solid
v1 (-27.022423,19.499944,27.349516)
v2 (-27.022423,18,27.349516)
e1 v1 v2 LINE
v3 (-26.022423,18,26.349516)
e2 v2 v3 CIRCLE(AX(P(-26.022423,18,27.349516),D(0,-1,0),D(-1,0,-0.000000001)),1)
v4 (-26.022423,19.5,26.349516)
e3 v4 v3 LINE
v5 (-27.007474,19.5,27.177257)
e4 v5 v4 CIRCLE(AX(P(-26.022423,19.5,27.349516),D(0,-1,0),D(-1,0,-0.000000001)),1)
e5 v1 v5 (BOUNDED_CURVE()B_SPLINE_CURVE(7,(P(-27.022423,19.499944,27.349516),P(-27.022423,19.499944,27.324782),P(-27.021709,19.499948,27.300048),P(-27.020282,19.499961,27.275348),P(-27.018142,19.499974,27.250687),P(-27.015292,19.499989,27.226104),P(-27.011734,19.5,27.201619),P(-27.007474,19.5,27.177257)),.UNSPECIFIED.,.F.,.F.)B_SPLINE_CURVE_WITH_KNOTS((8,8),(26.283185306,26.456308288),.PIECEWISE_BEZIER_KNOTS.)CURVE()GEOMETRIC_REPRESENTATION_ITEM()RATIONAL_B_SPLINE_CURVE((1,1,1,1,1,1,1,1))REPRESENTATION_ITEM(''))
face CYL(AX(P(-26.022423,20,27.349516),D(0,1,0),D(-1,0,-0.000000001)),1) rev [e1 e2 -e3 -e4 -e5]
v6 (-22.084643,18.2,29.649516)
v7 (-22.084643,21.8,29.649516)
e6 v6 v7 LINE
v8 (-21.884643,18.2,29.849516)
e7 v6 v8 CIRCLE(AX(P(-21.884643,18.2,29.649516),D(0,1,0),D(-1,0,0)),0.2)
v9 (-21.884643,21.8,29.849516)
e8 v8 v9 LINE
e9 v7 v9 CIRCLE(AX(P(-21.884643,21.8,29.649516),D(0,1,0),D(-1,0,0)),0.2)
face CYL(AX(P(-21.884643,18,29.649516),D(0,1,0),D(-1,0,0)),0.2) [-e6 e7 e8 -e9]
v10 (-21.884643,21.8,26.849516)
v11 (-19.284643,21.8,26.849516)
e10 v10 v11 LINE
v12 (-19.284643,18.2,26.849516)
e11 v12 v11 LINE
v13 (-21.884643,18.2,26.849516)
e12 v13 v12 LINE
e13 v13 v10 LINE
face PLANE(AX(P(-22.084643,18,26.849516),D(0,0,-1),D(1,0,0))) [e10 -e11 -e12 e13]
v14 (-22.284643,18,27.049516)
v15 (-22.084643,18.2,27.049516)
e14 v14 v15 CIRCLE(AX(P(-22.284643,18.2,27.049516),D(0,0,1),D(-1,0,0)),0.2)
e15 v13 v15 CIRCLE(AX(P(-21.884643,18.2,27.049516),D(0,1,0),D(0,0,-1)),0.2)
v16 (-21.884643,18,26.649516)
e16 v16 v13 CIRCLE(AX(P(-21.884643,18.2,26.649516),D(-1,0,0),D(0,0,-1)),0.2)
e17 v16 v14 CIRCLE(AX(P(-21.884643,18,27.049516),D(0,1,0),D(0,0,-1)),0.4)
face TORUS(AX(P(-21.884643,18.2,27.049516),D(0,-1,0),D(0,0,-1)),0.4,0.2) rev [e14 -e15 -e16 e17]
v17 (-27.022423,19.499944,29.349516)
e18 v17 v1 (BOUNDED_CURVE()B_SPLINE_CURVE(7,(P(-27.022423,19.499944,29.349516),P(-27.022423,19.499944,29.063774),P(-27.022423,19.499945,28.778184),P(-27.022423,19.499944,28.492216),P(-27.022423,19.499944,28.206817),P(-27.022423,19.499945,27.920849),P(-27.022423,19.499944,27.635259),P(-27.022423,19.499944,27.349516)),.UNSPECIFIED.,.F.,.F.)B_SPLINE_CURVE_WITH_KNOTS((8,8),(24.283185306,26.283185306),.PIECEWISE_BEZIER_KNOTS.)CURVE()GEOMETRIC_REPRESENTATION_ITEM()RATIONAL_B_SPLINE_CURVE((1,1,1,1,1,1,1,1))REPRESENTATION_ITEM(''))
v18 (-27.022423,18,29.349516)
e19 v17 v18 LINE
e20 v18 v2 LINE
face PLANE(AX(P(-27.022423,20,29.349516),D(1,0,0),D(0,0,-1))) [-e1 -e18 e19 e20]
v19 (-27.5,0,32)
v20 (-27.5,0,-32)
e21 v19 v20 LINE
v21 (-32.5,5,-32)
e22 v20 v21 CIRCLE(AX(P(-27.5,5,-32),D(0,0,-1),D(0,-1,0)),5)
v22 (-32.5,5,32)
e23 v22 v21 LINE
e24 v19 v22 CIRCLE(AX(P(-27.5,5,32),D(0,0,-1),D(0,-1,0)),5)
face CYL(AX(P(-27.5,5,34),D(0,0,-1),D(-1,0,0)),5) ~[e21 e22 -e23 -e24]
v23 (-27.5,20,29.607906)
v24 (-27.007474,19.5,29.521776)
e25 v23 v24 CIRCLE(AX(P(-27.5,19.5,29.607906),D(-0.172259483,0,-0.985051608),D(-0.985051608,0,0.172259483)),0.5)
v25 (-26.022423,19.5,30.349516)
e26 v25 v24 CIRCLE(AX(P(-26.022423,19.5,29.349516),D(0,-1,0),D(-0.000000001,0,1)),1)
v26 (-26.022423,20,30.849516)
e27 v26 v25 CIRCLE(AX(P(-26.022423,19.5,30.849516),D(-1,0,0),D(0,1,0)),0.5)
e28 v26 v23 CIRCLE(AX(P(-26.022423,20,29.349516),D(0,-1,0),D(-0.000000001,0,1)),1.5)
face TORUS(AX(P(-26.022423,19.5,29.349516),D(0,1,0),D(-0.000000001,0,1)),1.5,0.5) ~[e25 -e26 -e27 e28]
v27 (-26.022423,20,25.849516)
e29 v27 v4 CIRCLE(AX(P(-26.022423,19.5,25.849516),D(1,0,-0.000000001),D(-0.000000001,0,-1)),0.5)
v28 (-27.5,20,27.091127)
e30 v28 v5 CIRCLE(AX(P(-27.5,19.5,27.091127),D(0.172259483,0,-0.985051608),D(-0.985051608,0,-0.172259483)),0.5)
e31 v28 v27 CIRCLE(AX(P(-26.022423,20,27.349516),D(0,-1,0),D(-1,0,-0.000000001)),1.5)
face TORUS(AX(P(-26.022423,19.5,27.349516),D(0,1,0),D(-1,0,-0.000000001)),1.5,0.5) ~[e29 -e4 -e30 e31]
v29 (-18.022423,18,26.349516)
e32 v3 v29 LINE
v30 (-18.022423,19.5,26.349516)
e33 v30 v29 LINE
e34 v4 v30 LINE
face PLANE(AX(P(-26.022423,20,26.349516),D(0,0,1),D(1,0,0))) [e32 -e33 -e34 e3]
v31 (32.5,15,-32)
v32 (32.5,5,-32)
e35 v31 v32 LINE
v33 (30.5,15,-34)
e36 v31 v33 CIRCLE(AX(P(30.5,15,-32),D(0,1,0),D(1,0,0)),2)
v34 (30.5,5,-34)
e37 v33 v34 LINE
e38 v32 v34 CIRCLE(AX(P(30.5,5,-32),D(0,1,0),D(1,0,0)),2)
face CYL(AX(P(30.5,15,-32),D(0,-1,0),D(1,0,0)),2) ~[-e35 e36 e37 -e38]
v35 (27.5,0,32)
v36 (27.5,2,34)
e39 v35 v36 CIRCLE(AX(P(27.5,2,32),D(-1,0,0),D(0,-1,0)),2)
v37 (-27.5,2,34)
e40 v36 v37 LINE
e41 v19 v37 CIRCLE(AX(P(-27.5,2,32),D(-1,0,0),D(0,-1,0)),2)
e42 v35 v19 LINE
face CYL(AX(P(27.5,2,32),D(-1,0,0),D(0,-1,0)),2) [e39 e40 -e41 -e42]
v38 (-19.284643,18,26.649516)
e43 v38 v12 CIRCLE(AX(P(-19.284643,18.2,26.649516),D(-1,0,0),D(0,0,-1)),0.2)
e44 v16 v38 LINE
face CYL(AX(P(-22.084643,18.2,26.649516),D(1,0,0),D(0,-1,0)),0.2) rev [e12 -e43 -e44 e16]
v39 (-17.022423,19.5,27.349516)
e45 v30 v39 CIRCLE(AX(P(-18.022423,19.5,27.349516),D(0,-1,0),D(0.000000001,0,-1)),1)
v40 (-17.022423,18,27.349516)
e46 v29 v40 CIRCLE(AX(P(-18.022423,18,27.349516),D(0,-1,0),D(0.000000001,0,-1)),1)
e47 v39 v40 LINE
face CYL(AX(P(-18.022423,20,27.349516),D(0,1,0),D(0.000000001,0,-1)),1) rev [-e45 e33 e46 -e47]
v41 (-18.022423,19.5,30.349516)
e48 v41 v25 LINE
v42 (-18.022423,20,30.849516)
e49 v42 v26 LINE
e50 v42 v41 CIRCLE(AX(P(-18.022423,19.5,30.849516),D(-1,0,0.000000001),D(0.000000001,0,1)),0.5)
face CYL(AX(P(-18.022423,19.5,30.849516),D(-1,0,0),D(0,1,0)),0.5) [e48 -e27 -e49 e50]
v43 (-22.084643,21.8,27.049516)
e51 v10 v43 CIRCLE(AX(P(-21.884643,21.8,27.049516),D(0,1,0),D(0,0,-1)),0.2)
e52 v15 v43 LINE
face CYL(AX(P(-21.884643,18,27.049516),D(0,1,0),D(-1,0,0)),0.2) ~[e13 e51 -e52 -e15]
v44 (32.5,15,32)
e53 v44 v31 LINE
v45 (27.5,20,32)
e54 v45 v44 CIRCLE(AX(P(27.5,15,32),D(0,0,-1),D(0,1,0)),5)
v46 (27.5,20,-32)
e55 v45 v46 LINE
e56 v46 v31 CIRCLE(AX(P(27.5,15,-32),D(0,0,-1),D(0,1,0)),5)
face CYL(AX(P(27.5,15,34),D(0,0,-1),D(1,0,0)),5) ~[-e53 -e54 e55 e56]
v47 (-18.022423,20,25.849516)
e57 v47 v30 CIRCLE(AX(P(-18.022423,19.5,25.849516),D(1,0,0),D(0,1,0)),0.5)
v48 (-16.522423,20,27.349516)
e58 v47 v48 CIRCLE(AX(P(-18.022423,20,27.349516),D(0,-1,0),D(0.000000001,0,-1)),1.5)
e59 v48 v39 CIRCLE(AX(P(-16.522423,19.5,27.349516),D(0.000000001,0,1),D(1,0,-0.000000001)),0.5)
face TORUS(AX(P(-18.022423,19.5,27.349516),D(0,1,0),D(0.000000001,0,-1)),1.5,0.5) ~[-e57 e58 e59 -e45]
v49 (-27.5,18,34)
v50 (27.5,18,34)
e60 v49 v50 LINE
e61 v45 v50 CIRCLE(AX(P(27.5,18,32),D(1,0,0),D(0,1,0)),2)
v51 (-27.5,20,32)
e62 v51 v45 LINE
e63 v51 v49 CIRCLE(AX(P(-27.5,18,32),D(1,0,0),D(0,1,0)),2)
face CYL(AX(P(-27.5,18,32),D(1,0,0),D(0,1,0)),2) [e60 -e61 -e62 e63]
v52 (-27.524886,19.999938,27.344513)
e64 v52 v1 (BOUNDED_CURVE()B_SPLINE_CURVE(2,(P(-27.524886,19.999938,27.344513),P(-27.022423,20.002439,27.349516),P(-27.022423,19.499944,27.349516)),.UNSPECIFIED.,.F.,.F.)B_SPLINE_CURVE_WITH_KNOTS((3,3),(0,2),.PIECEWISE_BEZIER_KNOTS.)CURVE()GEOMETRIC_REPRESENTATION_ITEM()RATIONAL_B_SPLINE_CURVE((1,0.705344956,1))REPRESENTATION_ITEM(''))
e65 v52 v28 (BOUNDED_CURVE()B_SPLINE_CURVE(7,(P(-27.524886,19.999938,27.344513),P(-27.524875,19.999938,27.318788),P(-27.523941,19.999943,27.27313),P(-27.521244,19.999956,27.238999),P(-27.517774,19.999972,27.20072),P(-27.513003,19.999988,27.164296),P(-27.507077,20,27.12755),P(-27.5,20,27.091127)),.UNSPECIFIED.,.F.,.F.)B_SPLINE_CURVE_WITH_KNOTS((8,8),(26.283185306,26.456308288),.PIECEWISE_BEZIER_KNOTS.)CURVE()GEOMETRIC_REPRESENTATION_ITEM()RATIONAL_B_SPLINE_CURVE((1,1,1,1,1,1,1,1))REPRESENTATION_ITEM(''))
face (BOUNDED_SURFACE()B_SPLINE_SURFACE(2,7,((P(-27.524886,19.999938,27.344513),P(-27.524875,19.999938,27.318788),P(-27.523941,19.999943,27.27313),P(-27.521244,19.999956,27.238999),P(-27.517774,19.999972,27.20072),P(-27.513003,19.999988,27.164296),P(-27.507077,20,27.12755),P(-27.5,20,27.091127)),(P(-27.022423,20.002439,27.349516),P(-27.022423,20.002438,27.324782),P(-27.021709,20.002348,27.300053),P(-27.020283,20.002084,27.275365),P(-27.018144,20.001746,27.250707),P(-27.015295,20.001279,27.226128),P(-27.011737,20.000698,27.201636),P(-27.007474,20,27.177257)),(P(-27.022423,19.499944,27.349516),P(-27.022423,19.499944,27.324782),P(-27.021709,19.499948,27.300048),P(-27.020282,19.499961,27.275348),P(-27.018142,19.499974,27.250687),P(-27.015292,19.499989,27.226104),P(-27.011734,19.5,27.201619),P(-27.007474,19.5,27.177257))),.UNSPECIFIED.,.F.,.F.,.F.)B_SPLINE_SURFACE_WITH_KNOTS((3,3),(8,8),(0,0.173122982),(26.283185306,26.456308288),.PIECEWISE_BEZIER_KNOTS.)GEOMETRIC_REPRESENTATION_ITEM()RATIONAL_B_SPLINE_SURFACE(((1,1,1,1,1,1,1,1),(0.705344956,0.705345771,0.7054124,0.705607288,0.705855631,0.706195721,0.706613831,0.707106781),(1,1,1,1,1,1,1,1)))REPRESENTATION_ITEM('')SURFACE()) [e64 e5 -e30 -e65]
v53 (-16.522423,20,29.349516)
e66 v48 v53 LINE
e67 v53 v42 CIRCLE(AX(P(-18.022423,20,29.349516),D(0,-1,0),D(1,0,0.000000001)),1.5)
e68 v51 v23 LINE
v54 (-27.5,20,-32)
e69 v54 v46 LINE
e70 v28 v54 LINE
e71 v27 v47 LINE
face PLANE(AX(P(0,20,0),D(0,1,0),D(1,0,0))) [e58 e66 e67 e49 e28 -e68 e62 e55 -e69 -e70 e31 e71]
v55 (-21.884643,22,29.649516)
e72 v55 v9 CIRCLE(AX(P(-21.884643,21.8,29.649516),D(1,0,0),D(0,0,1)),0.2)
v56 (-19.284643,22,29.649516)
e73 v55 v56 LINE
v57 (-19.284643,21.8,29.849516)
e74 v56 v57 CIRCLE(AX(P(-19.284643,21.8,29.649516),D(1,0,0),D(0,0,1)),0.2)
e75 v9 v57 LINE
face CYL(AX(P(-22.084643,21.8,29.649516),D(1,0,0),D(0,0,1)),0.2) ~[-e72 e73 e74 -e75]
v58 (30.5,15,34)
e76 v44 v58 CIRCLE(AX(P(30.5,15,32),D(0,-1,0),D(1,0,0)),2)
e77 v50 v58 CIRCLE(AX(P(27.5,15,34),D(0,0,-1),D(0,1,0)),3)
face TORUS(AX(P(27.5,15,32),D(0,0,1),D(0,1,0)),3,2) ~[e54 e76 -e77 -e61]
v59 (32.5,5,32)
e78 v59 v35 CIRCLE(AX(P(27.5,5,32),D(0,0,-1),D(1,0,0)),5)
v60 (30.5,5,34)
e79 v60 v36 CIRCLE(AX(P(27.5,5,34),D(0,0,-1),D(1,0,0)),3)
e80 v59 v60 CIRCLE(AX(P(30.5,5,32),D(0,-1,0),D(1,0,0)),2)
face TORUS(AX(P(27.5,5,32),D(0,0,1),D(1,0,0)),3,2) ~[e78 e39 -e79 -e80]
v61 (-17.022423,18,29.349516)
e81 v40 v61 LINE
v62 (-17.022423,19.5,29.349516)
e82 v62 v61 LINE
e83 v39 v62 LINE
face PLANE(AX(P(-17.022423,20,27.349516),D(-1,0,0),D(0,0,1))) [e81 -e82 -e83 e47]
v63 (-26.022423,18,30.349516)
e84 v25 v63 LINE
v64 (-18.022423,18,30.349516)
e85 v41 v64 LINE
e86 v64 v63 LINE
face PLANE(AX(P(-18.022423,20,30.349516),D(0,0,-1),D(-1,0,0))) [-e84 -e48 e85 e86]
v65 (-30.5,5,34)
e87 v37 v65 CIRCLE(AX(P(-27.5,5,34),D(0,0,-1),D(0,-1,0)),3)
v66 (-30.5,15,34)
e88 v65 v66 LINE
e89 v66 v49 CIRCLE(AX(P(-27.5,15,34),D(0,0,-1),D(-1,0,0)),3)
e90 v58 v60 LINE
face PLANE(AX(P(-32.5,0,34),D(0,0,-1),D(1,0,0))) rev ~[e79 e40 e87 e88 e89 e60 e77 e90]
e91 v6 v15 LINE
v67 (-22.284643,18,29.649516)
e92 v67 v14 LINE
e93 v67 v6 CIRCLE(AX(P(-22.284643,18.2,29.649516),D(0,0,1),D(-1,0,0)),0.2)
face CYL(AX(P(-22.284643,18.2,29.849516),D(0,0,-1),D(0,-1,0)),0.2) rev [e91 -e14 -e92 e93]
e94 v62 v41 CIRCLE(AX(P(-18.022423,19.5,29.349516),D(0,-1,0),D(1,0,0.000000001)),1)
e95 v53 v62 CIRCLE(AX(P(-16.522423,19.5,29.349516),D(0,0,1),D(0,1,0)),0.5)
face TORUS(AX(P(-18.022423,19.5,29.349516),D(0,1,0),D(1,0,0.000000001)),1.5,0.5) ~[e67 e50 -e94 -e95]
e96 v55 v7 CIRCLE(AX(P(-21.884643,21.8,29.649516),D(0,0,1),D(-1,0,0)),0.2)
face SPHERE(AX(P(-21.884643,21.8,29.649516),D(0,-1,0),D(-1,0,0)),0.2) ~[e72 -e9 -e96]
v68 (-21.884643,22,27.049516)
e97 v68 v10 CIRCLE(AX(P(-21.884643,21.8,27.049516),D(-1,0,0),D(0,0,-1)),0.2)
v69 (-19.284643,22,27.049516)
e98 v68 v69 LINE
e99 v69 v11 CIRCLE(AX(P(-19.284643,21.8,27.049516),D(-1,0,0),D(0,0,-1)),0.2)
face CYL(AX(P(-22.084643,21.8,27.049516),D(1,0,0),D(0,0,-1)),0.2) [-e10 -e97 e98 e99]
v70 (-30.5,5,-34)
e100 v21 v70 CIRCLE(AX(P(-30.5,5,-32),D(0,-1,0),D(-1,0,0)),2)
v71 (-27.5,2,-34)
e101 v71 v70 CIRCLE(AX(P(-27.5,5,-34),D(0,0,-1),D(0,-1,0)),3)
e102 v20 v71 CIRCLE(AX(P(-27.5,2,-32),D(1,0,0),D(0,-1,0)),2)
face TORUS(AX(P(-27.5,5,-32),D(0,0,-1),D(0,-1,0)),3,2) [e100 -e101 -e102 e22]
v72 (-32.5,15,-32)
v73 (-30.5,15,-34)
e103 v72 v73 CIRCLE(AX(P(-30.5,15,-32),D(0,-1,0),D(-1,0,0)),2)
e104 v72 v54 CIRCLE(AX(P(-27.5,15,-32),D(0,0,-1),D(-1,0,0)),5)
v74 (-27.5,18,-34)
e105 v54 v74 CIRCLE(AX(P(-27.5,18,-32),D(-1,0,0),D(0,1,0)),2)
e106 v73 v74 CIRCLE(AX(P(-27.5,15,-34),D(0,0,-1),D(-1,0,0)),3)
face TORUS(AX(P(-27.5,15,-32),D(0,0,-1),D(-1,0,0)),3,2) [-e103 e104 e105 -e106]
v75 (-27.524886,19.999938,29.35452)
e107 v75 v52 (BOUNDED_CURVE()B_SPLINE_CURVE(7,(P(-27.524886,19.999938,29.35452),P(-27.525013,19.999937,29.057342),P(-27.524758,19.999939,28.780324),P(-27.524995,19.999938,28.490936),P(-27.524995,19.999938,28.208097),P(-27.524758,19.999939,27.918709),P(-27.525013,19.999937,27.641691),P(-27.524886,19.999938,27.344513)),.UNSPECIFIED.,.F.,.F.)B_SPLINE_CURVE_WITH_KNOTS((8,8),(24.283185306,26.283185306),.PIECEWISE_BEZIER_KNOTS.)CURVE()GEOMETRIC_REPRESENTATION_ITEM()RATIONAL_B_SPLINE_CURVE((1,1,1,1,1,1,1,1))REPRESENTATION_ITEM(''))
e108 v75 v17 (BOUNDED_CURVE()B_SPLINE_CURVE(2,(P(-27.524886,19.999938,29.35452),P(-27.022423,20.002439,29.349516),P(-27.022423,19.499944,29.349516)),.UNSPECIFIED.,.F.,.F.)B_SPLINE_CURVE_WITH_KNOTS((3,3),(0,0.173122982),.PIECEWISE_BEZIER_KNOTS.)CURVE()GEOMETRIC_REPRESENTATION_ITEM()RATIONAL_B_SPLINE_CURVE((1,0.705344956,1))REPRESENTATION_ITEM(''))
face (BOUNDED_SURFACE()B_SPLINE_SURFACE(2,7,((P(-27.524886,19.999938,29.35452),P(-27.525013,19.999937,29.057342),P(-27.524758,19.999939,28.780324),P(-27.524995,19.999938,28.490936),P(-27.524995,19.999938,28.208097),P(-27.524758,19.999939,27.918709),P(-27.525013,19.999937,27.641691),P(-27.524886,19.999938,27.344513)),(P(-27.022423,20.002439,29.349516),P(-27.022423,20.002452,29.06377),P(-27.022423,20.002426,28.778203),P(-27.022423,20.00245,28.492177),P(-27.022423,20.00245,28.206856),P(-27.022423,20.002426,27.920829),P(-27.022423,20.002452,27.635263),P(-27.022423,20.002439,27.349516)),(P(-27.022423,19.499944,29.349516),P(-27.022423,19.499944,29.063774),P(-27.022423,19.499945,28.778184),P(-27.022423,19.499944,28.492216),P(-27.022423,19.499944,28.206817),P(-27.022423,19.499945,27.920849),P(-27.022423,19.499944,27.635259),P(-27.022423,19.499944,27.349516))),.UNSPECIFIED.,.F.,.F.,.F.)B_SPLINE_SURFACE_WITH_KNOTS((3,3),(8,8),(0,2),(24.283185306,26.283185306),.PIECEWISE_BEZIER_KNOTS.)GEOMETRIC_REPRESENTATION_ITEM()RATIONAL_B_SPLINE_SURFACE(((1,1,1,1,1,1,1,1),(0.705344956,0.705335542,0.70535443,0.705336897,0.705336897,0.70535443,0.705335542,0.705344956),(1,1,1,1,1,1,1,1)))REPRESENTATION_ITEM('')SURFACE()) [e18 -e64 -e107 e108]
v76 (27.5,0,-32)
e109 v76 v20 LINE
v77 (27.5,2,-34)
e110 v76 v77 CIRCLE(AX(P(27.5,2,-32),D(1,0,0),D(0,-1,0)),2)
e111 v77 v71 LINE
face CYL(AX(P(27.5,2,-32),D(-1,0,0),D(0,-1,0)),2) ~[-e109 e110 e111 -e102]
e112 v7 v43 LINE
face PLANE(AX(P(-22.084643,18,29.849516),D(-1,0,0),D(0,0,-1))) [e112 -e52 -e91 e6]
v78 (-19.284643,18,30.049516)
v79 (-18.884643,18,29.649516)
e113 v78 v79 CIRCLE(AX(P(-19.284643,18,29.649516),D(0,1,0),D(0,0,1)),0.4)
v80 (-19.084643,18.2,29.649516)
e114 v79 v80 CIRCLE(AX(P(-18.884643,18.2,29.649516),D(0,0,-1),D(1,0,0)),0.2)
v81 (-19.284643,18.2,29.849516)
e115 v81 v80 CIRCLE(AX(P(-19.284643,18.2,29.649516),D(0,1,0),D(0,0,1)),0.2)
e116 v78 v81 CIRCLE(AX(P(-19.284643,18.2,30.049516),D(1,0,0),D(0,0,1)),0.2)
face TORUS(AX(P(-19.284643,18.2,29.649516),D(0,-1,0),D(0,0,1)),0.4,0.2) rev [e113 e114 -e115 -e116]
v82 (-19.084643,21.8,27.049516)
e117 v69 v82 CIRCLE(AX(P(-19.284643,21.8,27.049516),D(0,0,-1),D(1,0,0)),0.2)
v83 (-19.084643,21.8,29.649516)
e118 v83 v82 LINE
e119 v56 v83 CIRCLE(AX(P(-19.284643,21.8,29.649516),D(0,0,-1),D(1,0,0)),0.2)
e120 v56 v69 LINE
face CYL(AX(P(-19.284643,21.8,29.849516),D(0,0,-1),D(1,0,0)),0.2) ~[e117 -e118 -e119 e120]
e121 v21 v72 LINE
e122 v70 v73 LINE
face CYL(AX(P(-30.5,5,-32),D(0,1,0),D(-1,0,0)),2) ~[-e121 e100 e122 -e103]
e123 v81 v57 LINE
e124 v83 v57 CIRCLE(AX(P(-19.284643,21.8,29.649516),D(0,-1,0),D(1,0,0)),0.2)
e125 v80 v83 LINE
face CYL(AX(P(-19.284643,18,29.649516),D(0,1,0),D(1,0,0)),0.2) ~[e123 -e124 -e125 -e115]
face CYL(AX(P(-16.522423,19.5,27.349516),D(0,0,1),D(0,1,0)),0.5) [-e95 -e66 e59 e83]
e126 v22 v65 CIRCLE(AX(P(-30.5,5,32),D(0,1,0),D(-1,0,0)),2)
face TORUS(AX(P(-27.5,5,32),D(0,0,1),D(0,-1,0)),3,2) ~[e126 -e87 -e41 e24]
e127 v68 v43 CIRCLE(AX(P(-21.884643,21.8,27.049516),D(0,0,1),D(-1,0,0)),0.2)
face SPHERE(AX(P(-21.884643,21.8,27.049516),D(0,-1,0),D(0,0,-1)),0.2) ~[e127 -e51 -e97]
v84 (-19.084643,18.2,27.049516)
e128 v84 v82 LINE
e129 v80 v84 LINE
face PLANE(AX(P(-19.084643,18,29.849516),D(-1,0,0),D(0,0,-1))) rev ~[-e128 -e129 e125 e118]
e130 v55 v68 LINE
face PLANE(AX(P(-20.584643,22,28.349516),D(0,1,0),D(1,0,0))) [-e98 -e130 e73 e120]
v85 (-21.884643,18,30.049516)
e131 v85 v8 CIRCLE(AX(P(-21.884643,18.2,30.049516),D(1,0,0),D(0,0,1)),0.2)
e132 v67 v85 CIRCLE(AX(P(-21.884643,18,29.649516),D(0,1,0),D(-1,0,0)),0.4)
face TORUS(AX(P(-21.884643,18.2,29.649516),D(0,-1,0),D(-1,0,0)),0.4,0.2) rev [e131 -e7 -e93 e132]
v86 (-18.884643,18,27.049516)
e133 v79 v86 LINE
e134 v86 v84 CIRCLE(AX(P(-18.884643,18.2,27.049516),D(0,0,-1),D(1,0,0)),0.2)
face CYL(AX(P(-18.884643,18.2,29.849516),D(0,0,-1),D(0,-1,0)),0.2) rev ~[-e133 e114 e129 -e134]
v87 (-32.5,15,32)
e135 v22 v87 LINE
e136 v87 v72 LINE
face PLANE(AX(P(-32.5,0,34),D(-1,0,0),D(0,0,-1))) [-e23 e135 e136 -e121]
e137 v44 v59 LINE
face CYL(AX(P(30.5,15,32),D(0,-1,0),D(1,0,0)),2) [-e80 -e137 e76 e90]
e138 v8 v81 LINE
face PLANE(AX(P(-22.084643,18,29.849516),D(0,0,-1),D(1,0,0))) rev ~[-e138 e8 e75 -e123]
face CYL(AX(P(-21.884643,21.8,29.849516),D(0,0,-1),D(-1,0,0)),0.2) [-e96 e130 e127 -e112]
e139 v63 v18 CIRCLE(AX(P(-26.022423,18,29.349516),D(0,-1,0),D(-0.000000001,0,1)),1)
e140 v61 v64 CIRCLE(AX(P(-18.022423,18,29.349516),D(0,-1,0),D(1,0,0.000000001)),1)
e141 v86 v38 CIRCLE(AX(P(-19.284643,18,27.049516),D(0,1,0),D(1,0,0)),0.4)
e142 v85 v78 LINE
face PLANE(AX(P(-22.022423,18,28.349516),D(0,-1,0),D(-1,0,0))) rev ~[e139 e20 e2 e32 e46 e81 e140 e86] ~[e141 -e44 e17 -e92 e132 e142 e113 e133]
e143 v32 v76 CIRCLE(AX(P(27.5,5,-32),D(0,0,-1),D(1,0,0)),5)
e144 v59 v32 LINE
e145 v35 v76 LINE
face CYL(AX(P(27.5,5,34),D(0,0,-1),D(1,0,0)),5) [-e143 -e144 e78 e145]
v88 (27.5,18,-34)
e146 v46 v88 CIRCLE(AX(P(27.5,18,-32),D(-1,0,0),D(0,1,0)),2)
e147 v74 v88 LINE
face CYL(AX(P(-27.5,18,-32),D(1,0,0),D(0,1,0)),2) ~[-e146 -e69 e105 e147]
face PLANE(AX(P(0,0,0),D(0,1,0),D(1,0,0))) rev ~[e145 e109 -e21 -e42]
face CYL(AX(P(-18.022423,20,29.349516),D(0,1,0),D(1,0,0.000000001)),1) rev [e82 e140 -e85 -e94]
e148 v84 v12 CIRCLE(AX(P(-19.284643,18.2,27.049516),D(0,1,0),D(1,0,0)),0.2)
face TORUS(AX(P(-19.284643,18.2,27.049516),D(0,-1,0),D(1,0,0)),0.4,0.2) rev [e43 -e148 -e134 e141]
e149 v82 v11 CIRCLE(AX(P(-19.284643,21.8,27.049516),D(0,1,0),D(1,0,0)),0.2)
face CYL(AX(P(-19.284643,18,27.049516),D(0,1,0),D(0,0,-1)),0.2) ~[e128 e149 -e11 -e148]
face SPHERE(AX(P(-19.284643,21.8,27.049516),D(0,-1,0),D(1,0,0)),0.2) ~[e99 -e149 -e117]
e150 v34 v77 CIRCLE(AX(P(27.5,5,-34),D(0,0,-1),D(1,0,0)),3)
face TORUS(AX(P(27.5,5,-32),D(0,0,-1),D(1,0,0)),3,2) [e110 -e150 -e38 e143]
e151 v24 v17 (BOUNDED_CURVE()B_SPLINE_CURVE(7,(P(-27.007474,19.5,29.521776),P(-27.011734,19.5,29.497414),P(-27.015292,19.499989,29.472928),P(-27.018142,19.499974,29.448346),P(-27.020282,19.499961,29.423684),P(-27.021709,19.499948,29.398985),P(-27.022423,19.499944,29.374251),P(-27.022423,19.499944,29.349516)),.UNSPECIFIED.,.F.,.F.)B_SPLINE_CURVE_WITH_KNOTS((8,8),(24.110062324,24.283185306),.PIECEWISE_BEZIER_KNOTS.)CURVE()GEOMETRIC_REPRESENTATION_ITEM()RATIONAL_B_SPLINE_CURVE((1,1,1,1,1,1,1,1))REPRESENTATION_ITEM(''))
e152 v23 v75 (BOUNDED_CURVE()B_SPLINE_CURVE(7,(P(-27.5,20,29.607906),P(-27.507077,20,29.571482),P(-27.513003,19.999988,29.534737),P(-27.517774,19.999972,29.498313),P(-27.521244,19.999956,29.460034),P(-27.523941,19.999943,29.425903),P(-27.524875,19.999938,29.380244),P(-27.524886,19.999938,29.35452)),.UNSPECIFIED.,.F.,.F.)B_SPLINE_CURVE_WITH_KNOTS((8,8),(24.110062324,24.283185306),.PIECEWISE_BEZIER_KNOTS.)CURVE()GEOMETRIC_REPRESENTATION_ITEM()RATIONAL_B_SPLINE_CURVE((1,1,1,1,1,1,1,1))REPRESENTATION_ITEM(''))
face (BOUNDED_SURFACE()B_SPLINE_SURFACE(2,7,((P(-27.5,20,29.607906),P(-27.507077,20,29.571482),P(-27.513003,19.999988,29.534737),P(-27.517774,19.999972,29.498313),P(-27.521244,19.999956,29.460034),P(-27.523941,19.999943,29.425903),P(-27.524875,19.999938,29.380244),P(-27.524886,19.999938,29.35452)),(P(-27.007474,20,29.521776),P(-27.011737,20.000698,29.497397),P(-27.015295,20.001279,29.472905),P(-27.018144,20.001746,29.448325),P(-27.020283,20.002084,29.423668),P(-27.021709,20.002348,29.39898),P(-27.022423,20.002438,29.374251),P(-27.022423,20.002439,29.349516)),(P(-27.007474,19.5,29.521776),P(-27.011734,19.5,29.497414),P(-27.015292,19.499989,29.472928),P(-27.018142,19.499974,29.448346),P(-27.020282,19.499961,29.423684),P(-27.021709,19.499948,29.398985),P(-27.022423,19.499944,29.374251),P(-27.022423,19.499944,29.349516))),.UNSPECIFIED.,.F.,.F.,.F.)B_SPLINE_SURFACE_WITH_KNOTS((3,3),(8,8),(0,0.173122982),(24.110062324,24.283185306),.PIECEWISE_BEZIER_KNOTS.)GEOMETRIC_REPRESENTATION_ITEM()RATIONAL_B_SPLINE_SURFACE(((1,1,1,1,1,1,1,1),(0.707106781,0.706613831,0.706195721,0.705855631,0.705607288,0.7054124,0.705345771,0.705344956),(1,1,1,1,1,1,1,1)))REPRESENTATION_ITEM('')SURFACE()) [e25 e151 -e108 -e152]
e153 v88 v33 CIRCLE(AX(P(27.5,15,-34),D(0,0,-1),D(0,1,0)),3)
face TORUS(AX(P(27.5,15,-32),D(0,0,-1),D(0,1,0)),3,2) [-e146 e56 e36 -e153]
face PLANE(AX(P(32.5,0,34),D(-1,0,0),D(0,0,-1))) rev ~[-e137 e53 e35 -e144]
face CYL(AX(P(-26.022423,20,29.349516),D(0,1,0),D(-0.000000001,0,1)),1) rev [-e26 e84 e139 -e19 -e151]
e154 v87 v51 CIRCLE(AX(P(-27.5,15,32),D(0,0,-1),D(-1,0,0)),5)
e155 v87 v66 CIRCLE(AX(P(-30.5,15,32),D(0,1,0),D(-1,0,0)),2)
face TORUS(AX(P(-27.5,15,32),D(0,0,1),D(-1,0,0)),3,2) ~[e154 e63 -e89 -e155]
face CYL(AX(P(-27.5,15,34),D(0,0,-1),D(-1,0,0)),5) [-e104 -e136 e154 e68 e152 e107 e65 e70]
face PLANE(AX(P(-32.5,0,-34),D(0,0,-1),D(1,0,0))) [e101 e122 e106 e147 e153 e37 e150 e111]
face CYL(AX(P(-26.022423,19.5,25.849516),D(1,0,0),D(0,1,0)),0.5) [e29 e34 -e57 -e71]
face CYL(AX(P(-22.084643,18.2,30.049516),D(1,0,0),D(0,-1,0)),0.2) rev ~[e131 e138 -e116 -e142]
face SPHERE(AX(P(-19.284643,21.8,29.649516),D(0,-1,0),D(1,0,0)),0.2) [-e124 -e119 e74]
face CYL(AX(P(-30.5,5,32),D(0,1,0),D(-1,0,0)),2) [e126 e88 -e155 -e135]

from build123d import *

# Parameters (mm, degrees)
SKETCH1_W           = 65
SKETCH1_H           = 68
BOSS_EXTRUDE1_DEPTH = 20
FILLET1_R           = 5
FILLET2_R           = 2
CUT_EXTRUDE1_DEPTH  = 2
FILLET3_R           = 0.5
SKETCH3_W           = 3
SKETCH3_H           = 3
BOSS_EXTRUDE2_DEPTH = 4
FILLET4_R           = 0.2


with BuildPart() as part:
    # Sketch1 → Boss-Extrude1 (new body)
    with BuildSketch(Plane(origin=(0, 0, 0), x_dir=(1, 0, 0), z_dir=(0, 1, 0))):
        Rectangle(SKETCH1_W, SKETCH1_H)
    extrude(amount=BOSS_EXTRUDE1_DEPTH)

    # Fillet1
    fillet1_edges = [part.edges().sort_by_distance(p)[0] for p in [
        (-32.5, 20, 0),
        (32.5, 20, 0),
        (-32.5, 0, 0),
        (32.5, 0, 0),
    ]]
    fillet(fillet1_edges, radius=FILLET1_R)

    # Fillet2
    fillet2_edges = [part.edges().sort_by_distance(p)[0] for p in [
        (-32.5, 10, 34),
        (-32.5, 10, -34),
        (0, 0, 34),
        (32.5, 10, 34),
        (0, 20, 34),
        (31.035533906, 18.535533906, 34),
        (31.035533906, 1.464466094, 34),
        (-31.035533906, 18.535533906, 34),
        (-31.035533906, 1.464466094, 34),
        (0, 0, -34),
        (0, 20, -34),
        (32.5, 10, -34),
        (31.035533906, 18.535533906, -34),
        (31.035533906, 1.464466094, -34),
        (-31.035533906, 18.535533906, -34),
        (-31.035533906, 1.464466094, -34),
    ]]
    fillet(fillet2_edges, radius=FILLET2_R)

    # Sketch2 → Cut-Extrude1 (cut)
    with BuildSketch(Plane(origin=(0, 20, 0), x_dir=(1, 0, 0), z_dir=(0, 1, 0))):
        with BuildLine():
            Line((-26.022422588, -26.349516296), (-18.022422588, -26.349516296))
            ThreePointArc((-18.022422588, -26.349516296), (-17.315315807, -26.642409515), (-17.022422588, -27.349516296))
            Line((-17.022422588, -27.349516296), (-17.022422588, -29.349516296))
            ThreePointArc((-17.022422588, -29.349516296), (-17.315315807, -30.056623077), (-18.022422588, -30.349516296))
            Line((-18.022422588, -30.349516296), (-26.022422588, -30.349516296))
            ThreePointArc((-26.022422588, -30.349516296), (-26.729529369, -30.056623077), (-27.022422588, -29.349516296))
            Line((-27.022422588, -29.349516296), (-27.022422588, -27.349516296))
            ThreePointArc((-27.022422588, -27.349516296), (-26.729529369, -26.642409515), (-26.022422588, -26.349516296))
        make_face()
    extrude(amount=-CUT_EXTRUDE1_DEPTH, mode=Mode.SUBTRACT)

    # Fillet3
    fillet3_edges = [part.edges().sort_by_distance(p)[0] for p in [
        (-26.729529369, 20, 26.642409515),
        (-27.022422588, 20, 28.349516296),
        (-26.729529369, 20, 30.056623077),
        (-22.022422588, 20, 30.349516296),
        (-17.315315807, 20, 30.056623077),
        (-17.022422588, 20, 28.349516296),
        (-17.315315807, 20, 26.642409515),
        (-22.022422588, 20, 26.349516296),
    ]]
    fillet(fillet3_edges, radius=FILLET3_R)

    # Sketch3 → Boss-Extrude2 (add)
    with BuildSketch(Plane(origin=(0, 18, 0), x_dir=(1, 0, 0), z_dir=(0, 1, 0))):
        with Locations((-20.584643458, -28.349516296)):
            Rectangle(SKETCH3_W, SKETCH3_H)
    extrude(amount=BOSS_EXTRUDE2_DEPTH)

    # Fillet4
    fillet4_edges = [part.edges().sort_by_distance(p)[0] for p in [
        (-19.084643458, 18, 28.349516296),
        (-19.084643458, 20, 29.849516296),
        (-20.584643458, 18, 26.849516296),
        (-19.084643458, 20, 26.849516296),
        (-22.084643458, 18, 28.349516296),
        (-22.084643458, 20, 26.849516296),
        (-20.584643458, 18, 29.849516296),
        (-22.084643458, 20, 29.849516296),
        (-19.084643458, 22, 28.349516296),
        (-20.584643458, 22, 26.849516296),
        (-22.084643458, 22, 28.349516296),
        (-20.584643458, 22, 29.849516296),
    ]]
    fillet(fillet4_edges, radius=FILLET4_R)


solid = part.part
